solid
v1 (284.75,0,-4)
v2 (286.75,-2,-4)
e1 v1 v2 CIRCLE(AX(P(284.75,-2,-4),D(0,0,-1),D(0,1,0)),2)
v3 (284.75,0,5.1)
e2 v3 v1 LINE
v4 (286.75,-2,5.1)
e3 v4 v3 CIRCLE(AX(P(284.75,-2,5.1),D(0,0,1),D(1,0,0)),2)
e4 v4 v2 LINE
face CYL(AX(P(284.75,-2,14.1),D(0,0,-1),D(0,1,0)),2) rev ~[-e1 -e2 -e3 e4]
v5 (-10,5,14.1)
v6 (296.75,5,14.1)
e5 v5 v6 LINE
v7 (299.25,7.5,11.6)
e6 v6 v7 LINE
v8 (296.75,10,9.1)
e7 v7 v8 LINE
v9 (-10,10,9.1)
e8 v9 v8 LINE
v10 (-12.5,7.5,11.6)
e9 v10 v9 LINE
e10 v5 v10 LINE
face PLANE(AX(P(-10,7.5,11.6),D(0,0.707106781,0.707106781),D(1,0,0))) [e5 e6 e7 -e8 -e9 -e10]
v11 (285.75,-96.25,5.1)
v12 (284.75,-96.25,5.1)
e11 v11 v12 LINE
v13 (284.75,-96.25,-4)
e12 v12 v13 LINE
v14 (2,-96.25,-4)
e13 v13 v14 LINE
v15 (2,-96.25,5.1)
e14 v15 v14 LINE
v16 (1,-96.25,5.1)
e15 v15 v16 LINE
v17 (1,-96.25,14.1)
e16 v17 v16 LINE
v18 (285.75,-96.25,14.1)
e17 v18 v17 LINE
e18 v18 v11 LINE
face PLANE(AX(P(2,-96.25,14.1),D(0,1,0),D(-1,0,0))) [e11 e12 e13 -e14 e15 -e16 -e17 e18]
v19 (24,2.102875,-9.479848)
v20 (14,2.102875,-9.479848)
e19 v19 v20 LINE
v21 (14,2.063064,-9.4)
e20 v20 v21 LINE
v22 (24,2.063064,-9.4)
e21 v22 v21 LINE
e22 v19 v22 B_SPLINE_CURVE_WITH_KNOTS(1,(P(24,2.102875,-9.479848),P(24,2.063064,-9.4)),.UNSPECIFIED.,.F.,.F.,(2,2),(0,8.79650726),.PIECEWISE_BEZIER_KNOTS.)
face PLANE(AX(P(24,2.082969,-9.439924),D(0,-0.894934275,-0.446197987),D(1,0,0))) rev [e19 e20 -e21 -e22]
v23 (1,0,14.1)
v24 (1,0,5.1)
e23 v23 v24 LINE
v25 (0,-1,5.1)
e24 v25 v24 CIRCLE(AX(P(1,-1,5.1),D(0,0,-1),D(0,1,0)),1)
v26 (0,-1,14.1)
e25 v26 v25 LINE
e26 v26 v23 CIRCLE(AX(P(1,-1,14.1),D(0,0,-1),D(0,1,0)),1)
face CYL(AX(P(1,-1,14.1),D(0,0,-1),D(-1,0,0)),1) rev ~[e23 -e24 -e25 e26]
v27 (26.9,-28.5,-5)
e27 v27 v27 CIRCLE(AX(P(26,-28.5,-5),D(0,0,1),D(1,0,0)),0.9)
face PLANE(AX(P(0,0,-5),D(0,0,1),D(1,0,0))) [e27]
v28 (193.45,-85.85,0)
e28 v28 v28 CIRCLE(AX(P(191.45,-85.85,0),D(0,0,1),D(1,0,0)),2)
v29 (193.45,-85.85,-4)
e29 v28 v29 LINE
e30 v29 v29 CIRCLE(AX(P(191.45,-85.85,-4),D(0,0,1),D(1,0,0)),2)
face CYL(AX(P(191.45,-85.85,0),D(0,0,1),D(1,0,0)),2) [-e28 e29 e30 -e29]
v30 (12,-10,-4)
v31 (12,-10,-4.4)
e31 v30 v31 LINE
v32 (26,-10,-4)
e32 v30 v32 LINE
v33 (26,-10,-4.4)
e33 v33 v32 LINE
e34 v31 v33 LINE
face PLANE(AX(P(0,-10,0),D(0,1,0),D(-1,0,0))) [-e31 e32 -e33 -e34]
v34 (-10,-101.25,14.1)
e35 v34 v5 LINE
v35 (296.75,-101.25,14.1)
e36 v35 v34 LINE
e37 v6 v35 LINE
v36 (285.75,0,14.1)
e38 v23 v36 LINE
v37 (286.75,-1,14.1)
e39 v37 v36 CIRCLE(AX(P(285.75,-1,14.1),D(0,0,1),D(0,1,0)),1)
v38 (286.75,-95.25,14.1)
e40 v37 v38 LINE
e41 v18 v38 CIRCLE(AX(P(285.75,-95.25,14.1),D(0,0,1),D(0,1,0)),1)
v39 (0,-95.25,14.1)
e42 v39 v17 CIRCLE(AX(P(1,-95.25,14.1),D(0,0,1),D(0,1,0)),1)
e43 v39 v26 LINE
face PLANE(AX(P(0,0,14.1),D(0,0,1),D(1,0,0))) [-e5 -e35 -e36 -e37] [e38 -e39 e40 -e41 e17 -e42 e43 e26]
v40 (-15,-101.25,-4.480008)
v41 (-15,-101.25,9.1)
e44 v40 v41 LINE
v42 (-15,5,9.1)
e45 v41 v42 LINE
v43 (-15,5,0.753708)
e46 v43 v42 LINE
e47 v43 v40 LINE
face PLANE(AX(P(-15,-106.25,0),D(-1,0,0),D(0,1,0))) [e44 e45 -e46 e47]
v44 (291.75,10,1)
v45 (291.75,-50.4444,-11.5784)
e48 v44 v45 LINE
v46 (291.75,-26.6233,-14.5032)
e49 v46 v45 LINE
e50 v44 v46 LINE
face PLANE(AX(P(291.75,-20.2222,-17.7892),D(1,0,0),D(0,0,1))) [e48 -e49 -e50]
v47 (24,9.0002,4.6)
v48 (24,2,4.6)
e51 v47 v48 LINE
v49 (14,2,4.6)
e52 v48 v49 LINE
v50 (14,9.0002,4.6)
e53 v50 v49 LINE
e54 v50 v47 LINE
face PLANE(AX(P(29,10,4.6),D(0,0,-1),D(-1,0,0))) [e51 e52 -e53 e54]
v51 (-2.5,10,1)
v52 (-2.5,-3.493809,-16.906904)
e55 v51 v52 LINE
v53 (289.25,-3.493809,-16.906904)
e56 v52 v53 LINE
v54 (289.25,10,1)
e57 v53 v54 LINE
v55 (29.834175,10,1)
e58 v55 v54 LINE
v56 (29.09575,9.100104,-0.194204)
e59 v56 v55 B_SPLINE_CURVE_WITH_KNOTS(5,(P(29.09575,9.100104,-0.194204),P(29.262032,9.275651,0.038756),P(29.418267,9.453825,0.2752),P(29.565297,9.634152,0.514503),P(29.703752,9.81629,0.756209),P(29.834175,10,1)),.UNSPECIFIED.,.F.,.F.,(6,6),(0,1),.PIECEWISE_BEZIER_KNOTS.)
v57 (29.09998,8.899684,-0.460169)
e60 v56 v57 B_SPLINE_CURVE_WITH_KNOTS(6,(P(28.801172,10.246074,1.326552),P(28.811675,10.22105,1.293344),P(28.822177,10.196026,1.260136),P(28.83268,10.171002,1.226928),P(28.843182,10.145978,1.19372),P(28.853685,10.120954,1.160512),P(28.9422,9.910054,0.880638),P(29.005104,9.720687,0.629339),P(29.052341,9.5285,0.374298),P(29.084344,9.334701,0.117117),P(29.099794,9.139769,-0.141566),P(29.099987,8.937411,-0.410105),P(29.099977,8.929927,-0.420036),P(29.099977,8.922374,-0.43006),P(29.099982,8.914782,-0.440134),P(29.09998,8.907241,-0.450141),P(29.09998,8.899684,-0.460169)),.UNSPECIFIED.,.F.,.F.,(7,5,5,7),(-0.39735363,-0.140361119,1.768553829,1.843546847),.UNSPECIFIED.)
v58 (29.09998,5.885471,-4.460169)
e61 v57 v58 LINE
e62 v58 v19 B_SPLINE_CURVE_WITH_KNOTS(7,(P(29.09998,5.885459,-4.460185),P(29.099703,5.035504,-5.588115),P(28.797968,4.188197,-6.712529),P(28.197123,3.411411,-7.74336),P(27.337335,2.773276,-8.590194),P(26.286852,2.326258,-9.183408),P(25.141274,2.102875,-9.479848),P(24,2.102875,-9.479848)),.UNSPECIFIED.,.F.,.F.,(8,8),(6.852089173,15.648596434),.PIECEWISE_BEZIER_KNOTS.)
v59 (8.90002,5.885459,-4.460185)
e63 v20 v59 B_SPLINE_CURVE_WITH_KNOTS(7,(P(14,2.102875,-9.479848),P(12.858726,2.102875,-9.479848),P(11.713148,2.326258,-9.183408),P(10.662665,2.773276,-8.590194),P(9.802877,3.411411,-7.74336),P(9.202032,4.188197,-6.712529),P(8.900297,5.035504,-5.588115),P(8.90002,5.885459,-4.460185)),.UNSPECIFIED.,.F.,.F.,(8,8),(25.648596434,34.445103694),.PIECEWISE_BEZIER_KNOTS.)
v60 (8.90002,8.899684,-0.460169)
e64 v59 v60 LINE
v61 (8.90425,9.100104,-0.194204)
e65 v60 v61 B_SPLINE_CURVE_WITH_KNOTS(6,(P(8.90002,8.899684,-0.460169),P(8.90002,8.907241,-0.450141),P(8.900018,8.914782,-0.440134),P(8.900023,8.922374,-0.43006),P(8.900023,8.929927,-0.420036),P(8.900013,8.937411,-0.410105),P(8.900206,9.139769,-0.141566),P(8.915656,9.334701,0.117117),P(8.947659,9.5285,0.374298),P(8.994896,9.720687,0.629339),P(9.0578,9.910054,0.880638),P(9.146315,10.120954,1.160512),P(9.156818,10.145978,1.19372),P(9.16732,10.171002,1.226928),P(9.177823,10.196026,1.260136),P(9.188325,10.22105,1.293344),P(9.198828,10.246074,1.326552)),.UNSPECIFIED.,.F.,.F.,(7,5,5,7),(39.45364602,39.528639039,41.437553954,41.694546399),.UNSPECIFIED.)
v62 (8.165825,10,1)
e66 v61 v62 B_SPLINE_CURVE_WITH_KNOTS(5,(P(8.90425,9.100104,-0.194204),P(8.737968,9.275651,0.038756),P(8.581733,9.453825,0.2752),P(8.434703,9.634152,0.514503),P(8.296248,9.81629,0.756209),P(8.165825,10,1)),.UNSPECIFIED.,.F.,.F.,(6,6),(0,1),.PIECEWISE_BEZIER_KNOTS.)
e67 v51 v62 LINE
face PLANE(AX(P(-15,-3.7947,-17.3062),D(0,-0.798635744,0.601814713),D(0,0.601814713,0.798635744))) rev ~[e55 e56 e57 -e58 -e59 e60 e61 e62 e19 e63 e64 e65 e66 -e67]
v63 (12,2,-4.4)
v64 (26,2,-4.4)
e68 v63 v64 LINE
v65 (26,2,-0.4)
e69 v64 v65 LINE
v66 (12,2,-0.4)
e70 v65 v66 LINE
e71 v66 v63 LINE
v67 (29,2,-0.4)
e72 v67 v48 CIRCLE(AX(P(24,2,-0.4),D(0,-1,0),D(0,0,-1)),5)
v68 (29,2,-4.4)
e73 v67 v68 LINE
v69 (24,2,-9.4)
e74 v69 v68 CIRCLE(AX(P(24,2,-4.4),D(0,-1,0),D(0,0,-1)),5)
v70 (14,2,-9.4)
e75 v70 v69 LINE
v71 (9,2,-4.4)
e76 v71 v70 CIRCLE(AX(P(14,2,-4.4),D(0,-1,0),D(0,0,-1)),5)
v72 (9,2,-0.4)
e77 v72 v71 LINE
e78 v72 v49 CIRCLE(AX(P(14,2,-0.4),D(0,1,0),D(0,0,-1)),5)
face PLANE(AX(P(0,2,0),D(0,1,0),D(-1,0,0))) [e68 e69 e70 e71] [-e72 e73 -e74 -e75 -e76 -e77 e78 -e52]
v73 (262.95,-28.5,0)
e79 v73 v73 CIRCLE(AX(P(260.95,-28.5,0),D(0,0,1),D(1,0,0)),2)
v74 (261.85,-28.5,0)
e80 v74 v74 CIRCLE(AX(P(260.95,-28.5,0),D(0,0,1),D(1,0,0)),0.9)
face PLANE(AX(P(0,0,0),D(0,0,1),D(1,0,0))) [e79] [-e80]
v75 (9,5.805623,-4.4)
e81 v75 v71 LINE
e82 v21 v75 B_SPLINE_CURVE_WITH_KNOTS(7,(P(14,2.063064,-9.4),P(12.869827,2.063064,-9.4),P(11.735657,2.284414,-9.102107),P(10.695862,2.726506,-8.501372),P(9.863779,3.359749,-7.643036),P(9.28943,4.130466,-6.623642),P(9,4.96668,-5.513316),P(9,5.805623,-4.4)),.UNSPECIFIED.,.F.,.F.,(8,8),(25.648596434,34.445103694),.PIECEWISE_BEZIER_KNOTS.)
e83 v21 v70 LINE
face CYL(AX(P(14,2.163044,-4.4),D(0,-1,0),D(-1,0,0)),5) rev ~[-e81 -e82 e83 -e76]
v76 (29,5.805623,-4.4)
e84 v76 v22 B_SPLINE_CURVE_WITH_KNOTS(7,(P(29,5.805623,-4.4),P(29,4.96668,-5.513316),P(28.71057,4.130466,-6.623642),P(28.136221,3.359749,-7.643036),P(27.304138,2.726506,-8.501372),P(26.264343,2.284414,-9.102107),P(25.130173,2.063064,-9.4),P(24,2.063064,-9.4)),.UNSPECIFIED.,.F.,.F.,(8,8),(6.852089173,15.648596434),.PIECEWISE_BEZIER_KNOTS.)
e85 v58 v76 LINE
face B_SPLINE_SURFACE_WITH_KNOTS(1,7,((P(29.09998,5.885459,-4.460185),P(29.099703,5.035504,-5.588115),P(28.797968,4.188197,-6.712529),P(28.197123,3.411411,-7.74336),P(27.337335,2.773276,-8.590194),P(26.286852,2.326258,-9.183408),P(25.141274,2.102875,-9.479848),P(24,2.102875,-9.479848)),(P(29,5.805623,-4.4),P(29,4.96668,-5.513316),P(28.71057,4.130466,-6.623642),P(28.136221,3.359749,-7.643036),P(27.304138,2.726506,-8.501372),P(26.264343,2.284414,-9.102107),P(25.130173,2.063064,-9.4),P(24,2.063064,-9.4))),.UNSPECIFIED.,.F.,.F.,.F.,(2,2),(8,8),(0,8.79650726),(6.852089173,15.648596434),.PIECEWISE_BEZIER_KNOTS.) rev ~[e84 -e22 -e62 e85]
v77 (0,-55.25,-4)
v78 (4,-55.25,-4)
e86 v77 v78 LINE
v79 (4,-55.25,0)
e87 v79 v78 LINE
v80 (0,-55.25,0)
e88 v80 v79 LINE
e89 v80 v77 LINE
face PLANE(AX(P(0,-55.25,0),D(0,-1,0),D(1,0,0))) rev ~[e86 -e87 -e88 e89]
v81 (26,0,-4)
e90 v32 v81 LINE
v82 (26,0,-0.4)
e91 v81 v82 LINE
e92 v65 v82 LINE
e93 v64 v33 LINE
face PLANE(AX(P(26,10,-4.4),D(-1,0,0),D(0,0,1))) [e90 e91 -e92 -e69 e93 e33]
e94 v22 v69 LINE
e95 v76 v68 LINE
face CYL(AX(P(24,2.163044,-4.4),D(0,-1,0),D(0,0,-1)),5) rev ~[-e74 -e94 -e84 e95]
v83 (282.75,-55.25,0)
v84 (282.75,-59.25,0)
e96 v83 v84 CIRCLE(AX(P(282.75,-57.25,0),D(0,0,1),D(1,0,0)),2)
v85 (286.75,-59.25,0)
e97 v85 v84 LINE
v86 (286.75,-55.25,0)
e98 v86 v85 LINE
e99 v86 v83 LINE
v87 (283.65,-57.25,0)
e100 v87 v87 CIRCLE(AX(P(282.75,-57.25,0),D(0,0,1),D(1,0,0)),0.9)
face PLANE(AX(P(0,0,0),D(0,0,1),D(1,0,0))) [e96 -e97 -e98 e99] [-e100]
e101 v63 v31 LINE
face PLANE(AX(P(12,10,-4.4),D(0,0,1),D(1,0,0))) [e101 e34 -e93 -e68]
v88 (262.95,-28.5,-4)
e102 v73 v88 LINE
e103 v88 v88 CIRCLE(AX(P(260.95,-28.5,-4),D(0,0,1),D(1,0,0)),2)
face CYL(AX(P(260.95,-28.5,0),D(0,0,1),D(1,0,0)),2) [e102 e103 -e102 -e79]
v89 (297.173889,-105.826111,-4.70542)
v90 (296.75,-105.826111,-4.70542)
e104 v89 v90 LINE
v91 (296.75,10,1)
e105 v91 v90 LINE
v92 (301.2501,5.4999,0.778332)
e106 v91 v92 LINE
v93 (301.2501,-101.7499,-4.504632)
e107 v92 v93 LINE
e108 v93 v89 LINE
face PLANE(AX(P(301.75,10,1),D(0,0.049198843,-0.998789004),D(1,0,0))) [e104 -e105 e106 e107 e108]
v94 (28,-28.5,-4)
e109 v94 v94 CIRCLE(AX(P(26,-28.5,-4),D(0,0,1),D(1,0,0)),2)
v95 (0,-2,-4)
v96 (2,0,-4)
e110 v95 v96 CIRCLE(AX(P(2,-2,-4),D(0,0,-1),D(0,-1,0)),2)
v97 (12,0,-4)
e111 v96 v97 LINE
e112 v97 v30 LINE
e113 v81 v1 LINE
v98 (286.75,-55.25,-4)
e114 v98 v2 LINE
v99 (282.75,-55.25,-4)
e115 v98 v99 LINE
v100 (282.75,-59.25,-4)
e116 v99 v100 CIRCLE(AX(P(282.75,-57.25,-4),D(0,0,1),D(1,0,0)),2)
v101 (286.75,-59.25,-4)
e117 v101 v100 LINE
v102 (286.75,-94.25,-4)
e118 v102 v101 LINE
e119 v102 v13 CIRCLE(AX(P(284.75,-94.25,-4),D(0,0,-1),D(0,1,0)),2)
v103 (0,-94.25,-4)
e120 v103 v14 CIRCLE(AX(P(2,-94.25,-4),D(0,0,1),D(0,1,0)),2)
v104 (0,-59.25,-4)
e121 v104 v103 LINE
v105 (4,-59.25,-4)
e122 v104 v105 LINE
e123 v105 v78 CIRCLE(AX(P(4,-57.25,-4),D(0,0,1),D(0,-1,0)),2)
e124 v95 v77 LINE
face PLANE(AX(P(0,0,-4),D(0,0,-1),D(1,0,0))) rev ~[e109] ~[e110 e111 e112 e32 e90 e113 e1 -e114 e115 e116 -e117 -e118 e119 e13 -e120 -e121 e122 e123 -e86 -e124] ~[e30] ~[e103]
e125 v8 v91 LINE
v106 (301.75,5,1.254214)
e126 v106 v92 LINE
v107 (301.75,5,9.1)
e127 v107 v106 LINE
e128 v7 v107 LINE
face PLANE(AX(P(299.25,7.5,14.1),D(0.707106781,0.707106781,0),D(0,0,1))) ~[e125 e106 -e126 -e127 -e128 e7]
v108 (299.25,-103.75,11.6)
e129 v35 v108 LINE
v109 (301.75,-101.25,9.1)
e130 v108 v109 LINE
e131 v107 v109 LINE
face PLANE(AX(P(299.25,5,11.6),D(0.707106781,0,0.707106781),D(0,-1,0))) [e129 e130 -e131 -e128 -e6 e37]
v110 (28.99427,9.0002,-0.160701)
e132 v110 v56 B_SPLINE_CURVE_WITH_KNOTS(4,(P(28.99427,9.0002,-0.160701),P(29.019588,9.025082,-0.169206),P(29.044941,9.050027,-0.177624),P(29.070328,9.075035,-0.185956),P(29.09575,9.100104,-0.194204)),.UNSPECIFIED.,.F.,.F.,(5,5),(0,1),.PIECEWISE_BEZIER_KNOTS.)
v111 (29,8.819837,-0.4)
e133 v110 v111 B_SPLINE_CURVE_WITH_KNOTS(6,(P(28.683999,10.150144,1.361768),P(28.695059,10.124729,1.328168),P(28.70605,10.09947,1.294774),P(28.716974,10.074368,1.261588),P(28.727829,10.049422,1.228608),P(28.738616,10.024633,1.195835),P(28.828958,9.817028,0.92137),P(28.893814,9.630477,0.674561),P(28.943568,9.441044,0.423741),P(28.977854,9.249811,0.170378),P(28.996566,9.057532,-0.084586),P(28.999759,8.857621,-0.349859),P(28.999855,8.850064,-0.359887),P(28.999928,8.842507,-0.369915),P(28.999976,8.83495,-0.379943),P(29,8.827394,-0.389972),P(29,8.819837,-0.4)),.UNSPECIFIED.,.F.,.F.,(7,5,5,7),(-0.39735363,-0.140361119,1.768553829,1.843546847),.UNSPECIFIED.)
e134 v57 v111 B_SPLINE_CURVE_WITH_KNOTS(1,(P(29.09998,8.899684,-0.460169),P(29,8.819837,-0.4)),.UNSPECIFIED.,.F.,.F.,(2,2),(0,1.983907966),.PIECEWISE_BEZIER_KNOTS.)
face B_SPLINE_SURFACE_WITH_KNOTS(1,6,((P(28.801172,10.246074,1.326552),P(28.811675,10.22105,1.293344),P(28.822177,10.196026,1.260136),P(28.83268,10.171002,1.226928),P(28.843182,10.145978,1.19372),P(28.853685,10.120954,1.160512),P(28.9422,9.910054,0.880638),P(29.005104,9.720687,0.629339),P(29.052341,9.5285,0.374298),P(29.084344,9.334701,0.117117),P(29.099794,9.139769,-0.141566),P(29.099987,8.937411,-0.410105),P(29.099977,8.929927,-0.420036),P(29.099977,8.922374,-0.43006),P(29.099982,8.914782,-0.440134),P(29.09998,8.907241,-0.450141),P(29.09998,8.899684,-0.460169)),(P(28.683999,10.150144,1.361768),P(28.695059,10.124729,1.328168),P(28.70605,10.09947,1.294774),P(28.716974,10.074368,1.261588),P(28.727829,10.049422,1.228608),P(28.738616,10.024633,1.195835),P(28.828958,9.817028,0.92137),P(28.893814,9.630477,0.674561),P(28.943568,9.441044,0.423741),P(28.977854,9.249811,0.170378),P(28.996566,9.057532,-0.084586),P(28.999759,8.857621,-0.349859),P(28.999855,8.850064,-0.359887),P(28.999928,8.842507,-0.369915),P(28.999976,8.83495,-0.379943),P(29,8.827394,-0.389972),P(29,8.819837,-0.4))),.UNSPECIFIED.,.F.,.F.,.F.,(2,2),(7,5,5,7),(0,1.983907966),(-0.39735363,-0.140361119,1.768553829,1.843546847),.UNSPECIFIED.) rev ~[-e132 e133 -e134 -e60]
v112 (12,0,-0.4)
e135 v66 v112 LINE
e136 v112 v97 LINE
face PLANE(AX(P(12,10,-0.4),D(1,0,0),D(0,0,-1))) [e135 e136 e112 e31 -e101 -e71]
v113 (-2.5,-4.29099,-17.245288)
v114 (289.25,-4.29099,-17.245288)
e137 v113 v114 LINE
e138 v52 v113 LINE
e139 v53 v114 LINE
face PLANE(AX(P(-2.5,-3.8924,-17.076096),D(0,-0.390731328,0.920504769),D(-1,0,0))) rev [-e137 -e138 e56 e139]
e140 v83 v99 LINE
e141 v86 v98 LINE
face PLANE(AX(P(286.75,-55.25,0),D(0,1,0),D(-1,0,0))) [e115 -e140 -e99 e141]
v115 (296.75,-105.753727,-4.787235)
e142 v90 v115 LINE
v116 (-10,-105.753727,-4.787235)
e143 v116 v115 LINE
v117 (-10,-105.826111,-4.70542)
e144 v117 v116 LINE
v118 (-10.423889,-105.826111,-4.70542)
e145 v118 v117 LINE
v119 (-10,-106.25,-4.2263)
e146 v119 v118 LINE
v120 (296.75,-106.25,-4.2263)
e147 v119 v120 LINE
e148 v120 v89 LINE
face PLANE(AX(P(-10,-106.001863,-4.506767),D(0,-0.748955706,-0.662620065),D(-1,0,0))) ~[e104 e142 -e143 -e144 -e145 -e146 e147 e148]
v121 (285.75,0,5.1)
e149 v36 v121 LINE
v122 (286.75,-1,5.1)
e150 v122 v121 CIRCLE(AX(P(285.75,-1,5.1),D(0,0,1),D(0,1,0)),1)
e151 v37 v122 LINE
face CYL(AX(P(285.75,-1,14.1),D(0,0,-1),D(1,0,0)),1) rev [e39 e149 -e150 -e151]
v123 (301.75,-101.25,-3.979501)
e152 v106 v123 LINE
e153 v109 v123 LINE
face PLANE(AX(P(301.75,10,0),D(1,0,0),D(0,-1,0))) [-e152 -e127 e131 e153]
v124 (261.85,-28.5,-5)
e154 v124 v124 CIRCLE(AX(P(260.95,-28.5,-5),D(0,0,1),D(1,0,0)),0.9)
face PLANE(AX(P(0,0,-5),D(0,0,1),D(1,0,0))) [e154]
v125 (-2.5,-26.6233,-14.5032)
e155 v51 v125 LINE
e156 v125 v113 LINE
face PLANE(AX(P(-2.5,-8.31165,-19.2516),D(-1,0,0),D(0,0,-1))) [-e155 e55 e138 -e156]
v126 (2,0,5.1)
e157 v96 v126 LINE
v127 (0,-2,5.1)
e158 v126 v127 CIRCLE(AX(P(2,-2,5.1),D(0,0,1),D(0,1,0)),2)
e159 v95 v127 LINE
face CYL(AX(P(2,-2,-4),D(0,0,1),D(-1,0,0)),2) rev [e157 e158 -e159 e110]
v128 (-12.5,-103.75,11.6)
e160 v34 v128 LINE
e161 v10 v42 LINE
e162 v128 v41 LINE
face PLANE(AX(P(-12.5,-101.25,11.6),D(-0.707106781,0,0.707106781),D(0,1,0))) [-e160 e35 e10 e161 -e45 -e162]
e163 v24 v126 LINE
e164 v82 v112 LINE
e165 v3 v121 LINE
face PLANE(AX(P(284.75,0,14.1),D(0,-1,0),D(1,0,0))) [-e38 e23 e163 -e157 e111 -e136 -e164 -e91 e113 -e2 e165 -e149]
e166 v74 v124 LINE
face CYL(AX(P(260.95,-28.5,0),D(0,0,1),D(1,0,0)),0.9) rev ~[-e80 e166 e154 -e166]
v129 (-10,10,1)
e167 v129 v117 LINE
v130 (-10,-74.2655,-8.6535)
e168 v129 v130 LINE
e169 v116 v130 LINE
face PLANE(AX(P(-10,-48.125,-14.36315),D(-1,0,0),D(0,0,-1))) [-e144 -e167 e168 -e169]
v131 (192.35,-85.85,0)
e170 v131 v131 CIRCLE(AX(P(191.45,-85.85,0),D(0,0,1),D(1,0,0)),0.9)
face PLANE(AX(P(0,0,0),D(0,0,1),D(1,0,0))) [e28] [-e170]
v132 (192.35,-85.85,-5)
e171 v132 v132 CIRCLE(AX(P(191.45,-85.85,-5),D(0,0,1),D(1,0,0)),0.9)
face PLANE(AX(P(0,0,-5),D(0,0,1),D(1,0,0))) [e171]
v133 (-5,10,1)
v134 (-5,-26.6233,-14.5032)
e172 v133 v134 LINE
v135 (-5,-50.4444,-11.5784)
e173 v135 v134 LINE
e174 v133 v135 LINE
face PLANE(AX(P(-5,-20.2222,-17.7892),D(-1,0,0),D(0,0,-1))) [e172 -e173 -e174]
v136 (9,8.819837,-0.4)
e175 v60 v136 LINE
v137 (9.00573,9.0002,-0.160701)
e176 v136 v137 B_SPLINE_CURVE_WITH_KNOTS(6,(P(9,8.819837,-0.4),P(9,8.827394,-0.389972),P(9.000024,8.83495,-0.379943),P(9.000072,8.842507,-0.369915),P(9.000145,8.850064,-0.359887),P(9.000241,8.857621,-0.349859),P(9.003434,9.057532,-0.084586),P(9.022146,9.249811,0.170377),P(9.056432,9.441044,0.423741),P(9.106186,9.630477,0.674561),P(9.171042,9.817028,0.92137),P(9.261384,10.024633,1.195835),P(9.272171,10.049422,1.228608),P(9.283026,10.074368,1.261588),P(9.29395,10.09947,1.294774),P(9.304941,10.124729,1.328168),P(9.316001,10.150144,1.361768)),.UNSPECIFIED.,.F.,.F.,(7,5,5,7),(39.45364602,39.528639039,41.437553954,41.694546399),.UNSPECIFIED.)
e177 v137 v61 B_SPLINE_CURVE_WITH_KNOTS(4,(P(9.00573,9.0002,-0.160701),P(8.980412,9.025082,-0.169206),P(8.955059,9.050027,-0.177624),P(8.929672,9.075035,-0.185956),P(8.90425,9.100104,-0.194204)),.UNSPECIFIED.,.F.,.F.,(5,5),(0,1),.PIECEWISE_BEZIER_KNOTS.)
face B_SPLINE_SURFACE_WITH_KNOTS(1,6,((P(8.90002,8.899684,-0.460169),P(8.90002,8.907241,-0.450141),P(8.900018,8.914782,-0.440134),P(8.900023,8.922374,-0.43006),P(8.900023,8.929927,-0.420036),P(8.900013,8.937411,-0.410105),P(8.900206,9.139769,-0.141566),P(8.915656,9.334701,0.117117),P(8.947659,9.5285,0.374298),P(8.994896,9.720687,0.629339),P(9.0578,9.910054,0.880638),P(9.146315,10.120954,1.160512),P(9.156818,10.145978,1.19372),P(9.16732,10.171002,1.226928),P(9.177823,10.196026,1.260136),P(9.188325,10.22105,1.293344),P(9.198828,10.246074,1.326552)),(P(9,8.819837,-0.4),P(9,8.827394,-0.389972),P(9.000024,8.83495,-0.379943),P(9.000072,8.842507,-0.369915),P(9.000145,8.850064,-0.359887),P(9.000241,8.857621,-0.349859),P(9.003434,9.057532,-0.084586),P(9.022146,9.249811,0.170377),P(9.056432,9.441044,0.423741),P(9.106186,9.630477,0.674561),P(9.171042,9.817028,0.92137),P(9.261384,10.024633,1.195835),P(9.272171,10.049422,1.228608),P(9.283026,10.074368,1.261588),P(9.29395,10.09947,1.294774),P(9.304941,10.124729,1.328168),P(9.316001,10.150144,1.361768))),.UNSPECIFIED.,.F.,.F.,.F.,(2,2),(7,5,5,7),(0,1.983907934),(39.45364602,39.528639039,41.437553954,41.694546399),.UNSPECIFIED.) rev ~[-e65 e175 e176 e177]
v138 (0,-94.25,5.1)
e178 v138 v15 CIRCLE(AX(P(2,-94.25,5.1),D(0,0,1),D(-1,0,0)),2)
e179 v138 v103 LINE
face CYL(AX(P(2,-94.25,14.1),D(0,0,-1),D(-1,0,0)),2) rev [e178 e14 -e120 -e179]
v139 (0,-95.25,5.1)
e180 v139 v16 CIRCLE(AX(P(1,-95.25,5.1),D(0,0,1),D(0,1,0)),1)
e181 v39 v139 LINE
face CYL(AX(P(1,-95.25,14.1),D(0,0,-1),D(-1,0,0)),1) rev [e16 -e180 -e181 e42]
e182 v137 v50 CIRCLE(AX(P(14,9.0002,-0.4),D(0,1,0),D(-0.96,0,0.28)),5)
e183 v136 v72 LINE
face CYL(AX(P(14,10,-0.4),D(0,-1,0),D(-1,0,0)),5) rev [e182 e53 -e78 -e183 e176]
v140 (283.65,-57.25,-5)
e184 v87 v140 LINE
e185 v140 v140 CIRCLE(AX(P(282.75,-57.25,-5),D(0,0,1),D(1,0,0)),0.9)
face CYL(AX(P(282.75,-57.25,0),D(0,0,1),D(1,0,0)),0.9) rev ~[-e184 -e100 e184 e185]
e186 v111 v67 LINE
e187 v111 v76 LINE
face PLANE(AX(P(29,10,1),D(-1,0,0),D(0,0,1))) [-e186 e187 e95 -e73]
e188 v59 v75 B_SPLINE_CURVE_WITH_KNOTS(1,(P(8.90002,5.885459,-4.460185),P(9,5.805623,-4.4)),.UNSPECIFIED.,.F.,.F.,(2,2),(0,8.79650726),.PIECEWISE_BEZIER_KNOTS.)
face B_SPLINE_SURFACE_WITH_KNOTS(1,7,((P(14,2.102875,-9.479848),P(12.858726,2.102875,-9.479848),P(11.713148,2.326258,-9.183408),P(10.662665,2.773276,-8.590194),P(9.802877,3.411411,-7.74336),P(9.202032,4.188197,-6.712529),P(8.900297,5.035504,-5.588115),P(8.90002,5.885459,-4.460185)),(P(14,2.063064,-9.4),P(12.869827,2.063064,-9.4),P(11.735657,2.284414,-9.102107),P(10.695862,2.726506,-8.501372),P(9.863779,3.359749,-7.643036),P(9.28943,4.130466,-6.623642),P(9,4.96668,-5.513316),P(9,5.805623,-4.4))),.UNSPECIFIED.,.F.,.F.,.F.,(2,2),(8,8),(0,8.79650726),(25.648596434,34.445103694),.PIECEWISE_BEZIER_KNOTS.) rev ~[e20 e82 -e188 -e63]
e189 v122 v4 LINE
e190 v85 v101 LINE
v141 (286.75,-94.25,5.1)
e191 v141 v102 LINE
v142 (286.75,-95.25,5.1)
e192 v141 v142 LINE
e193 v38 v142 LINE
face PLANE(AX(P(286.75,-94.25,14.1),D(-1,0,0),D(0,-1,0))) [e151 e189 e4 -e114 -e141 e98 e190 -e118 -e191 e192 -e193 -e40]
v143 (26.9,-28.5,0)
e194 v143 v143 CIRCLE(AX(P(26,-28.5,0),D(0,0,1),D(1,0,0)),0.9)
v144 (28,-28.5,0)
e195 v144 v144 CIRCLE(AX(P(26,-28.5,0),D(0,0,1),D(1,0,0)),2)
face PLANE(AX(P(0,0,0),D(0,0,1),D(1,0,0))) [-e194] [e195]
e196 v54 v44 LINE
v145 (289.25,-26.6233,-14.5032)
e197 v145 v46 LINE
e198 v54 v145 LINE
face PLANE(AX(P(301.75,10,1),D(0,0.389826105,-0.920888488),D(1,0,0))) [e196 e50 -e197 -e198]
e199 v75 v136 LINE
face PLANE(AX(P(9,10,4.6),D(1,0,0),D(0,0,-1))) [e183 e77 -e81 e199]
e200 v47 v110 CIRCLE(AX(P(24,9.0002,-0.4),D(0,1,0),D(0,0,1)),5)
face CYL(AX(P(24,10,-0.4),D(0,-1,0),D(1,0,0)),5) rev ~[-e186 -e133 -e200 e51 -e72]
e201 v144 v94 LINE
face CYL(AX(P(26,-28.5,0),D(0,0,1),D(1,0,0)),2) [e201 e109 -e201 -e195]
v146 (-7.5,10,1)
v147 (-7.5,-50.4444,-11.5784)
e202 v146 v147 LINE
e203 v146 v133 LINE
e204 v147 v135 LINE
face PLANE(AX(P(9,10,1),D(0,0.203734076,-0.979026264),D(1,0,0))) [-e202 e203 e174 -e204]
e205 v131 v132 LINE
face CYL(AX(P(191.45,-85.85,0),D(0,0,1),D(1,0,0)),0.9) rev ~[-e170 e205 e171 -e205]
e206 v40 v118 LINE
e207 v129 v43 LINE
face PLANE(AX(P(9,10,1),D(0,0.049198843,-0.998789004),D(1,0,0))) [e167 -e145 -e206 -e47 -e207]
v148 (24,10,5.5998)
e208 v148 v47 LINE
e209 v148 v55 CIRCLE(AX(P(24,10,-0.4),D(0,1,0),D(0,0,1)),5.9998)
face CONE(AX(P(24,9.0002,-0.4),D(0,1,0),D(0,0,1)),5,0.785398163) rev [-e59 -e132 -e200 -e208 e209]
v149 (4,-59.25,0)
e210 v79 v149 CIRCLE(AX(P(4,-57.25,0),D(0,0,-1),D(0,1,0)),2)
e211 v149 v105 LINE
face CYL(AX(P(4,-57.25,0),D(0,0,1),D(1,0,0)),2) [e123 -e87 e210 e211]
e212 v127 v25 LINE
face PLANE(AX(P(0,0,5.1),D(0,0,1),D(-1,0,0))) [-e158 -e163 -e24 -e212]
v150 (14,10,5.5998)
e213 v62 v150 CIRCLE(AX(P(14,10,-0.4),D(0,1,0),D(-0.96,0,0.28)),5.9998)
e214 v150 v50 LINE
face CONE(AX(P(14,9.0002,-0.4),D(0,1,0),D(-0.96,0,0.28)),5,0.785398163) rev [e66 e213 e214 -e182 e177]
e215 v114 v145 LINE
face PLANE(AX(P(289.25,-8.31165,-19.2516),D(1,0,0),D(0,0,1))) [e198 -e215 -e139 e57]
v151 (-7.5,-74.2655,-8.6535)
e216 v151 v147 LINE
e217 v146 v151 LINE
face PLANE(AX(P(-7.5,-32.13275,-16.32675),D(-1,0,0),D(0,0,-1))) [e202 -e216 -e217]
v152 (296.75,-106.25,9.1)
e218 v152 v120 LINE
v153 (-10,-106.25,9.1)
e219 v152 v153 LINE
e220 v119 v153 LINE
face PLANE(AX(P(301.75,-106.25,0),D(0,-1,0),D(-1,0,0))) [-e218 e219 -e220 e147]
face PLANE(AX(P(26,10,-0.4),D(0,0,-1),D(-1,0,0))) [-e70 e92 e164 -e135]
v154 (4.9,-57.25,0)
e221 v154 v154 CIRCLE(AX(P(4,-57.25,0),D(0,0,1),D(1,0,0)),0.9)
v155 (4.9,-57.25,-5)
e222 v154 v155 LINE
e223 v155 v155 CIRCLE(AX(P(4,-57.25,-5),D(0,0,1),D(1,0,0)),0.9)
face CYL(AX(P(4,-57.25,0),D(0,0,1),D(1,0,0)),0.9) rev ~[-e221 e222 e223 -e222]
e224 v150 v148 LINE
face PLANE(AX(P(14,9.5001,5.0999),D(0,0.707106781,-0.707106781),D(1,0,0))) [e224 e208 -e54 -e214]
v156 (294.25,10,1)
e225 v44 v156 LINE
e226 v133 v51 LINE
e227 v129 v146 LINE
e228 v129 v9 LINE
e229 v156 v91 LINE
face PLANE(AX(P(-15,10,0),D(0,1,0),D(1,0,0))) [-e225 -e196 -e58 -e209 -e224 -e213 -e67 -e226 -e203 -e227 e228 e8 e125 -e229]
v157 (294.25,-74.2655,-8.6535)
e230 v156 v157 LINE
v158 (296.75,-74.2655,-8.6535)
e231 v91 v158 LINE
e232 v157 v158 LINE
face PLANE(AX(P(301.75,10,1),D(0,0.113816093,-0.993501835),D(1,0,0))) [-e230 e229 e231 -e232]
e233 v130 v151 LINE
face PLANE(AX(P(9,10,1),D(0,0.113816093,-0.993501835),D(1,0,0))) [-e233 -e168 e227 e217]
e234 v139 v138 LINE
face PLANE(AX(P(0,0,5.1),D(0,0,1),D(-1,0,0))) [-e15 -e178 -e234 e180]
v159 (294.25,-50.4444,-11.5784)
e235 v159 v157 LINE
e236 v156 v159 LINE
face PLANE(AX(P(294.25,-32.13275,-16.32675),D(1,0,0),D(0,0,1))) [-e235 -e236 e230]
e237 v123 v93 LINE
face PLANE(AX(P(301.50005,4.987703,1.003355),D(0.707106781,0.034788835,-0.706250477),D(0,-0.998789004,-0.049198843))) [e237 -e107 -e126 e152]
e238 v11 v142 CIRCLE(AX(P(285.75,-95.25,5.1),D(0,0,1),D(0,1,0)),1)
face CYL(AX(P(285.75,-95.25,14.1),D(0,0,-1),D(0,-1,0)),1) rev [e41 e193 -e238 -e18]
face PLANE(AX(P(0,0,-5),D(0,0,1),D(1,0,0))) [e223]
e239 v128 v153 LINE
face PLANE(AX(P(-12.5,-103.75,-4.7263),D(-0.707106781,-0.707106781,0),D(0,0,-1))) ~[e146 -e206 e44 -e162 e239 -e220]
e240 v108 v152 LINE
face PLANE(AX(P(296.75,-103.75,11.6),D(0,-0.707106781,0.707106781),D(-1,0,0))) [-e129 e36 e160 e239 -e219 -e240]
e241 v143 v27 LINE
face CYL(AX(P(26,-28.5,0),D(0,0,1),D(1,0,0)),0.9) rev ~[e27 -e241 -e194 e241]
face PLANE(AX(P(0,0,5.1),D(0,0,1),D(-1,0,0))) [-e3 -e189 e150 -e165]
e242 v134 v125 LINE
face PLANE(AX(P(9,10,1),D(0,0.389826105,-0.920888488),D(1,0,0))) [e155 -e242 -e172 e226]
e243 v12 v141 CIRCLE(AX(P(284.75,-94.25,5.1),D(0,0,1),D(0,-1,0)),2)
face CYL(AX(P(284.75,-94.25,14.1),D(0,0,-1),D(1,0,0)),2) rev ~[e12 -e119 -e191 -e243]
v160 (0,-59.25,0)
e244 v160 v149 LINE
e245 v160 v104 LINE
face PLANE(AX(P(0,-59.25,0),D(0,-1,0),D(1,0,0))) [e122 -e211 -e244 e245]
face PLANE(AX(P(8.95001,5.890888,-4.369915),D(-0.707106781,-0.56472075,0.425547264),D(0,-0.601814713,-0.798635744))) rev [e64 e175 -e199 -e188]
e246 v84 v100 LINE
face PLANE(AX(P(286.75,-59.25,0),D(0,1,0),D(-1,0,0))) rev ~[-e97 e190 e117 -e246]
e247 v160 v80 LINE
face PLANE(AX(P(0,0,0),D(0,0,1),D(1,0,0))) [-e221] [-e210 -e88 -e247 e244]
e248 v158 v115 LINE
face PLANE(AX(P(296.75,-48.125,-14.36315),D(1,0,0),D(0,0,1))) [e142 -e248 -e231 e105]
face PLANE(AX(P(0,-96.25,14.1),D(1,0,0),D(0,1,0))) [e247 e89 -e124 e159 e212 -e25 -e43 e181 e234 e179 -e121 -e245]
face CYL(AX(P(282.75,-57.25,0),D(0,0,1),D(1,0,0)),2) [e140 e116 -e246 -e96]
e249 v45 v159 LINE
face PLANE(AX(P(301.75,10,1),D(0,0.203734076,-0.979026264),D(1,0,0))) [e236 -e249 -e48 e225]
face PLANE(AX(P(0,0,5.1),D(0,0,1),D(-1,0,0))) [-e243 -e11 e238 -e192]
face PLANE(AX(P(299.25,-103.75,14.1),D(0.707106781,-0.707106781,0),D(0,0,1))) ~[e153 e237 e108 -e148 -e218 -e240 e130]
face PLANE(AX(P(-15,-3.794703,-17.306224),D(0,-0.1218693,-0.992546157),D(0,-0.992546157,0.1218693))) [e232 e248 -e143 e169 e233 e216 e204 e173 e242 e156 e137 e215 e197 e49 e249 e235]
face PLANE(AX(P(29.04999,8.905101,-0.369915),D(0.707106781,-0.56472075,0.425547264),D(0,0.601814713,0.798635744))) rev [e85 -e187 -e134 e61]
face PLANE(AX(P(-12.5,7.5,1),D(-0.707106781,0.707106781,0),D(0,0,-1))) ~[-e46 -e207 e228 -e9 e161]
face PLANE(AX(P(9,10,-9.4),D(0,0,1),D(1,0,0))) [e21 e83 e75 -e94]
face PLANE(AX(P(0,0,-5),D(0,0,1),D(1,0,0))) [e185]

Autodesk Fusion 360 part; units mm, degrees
sketch "スケッチ1" plane through (0, 0, 0) normal (0, 0, 1) x (1, 0, 0)
  line L0 (0, 0) -> (286.75, 0)
  line L1 (286.75, 0) -> (286.75, -96.25)
  line L2 (286.75, -96.25) -> (0, -96.25)
  line L3 (0, -96.25) -> (0, 0)
  line L4 (-15, 10) -> (301.75, 10)
  line L5 (301.75, 10) -> (301.75, -106.25)
  line L6 (301.75, -106.25) -> (-15, -106.25)
  line L7 (-15, -106.25) -> (-15, 10)
  circle A0 centre (260.95, -28.5) radius 2
  circle A1 centre (282.75, -57.25) radius 2
  circle A2 centre (191.45, -85.85) radius 2
  circle A3 centre (4, -57.25) radius 2
  circle A4 centre (26, -28.5) radius 2
  line L8 (286.75, -59.25) -> (282.75, -59.25)
  line L9 (286.75, -55.25) -> (282.75, -55.25)
  line L10 (0, -59.25) -> (4, -59.25)
  line L11 (0, -55.25) -> (4, -55.25)
  circle A5 centre (129, -47.75) radius 2
  circle A6 centre (4, -57.25) radius 0.9
  circle A7 centre (26, -28.5) radius 0.9
  circle A8 centre (191.45, -85.85) radius 0.9
  circle A9 centre (129, -47.75) radius 0.9
  circle A10 centre (282.75, -57.25) radius 0.9
  circle A11 centre (260.95, -28.5) radius 0.9
  dimension "d7" = 286.75
  dimension "d8" = 96.25
  dimension "d9" = 15
  dimension "d10" = 10
  dimension "d11" = 10
  dimension "d12" = 15
  dimension "d13" = 4
  dimension "d14" = 28.5
  dimension "d15" = 25.8
  dimension "d16" = 4
  dimension "d17" = 4
  dimension "d18" = 4
  dimension "d19" = 4
  dimension "d20" = 28.5
  dimension "d21" = 26
  dimension "d22" = 39
  dimension "d23" = 4
  dimension "d24" = 4
  dimension "d25" = 39
  dimension "d26" = 10.4
  dimension "d27" = 95.3
  dimension "d28" = 4
  dimension "d29" = 129
  dimension "d30" = 48.5
  dimension "d54" = 1.8
  dimension "d55" = 1.8
  dimension "d56" = 1.8
  dimension "d57" = 1.8
  dimension "d58" = 1.8
  dimension "d59" = 1.8
extrude "押し出し1" add sketch "スケッチ1" along normal blind 14.1 contours L4 L5 L6 L7
extrude "押し出し2" add sketch "スケッチ1" against normal blind 4 contours L4 L5 L6 L7
sketch "スケッチ2" plane through (0, 0, -4) normal (0, 0, -1) x (1, 0, 0)
  line L0 (0, 96.25) -> (286.75, 96.25)
  line L1 (286.75, 96.25) -> (286.75, 0)
  line L2 (286.75, 0) -> (0, 0)
  line L3 (0, 0) -> (0, 96.25)
  line L4 (301.75, 106.25) -> (-15, 106.25)
  line L5 (-15, 106.25) -> (-15, -10)
  line L6 (-15, -10) -> (301.75, -10)
  line L7 (301.75, -10) -> (301.75, 106.25)
extrude "押し出し3" add sketch "スケッチ2" along normal blind 15 contours L0 L1 L2 L3 | L4 L5 L6 L7
sketch "スケッチ3" plane through (-15, 0, 0) normal (-1, 0, 0) x (0, -1, 0)
  line L0 (106.25, -19) -> (106.25, 14.1)
  line L1 (106.25, 14.1) -> (-10, 14.1)
  line L2 (-10, 14.1) -> (-10, -19)
  line L3 (-10, -19) -> (106.25, -19)
  line L4 (-10, -19) -> (106.25, -4.7263)
  line L5 (3.7947, -17.3062) -> (-10, 1)
  dimension "d37" = 7
  dimension "d77" = 120
  dimension "d78" = 20
extrude "押し出し4" cut sketch "スケッチ3" against normal blind 320 contours L0 L3 L4 | L2 L4 L5
extrude "押し出し5" add sketch "スケッチ1" against normal blind 4 contours L3 A3 L10 L11 | L1 A1 L8 L9 | A3 | A1 | A0 | A2 | A4 | A6 | A7 | A8 | A10 | A11
sketch "スケッチ4" plane through (0, 10, 0) normal (0, 1, 0) x (-1, 0, 0)
  line L0 (15, 1) -> (15, 14.1)
  line L1 (15, 14.1) -> (-301.75, 14.1)
  line L2 (-301.75, 14.1) -> (-301.75, 1)
  line L3 (-29, 4.6) -> (-9, 4.6)
  line L4 (-9, 4.6) -> (-9, -9.4)
  line L5 (-9, -9.4) -> (-29, -9.4)
  line L6 (-29, -9.4) -> (-29, 4.6)
  line L7 (-26, -0.4) -> (-12, -0.4)
  line L8 (-12, -0.4) -> (-12, -4.4)
  line L9 (-12, -4.4) -> (-26, -4.4)
  line L10 (-26, -4.4) -> (-26, -0.4)
  line L11 (-301.75, 1) -> (15, 1)
  dimension "d42" = 20
  dimension "d43" = 14
  dimension "d44" = 24
  dimension "d45" = 9.5
  dimension "d46" = 14
  dimension "d47" = 4
  dimension "d48" = 27
  dimension "d49" = 14.5
extrude "押し出し6" cut sketch "スケッチ4" against normal blind 20 contours L7 L8 L9 L10
extrude "押し出し7" cut sketch "スケッチ4" against normal blind 8 contours L3 L4 L6 L11 | L4 L5 L6 L11
extrude "押し出し8" cut sketch "スケッチ1" against normal blind 5 contours A6 | A7 | A8 | A10 | A11
sketch "スケッチ6" plane through (-15, 0, 0) normal (-1, 0, 0) x (0, -1, 0)
  line L0 (3.7947, -17.3062) -> (106.25, -4.7263)
  line L1 (106.25, 14.1) -> (-10, 14.1)
  line L2 (-10, 1) -> (26.6233, -14.5032)
  line L3 (-10, 1) -> (50.4444, -11.5784)
  line L4 (-10, 1) -> (106.25, -4.7263)
  line L5 (-10, 1) -> (74.2655, -8.6535)
  line L6 (-10, 1) -> (3.7947, -17.3062)
  line L7 (106.25, -4.7263) -> (106.25, 14.1)
  line L8 (-10, 14.1) -> (-10, 1)
  point P0 (-10, 1)
  dimension "d79" = 23
  dimension "d80" = 47
  dimension "d81" = 71
  dimension "d82" = 103.2247
sketch "スケッチ7" plane through (0, 10, 0) normal (0, 1, 0) x (-1, 0, 0)
  line L0 (-29, 4.6) -> (-9, 4.6)
  line L1 (-9, 1) -> (15, 1)
  line L2 (15, 14.1) -> (-301.75, 14.1)
  line L3 (15, 1) -> (10, 1)
  line L4 (10, 1) -> (10, -24)
  line L5 (10, -24) -> (15, -24)
  line L6 (15, -24) -> (15, 1)
  line L7 (10, 1) -> (7.5, 1)
  line L8 (7.5, 1) -> (7.5, -24)
  line L9 (7.5, -24) -> (10, -24)
  line L10 (10, -24) -> (10, 1)
  line L11 (7.5, 1) -> (5, 1)
  line L12 (5, 1) -> (5, -24)
  line L13 (5, -24) -> (7.5, -24)
  line L14 (7.5, -24) -> (7.5, 1)
  line L15 (5, 1) -> (2.5, 1)
  line L16 (2.5, 1) -> (2.5, -24)
  line L17 (2.5, -24) -> (5, -24)
  line L18 (5, -24) -> (5, 1)
  line L19 (15, 1) -> (15, 14.1)
  line L20 (-301.75, 14.1) -> (-301.75, 1)
  line L21 (-9, 4.6) -> (-9, 1)
  line L22 (-301.75, 1) -> (-29, 1)
  line L23 (-29, 1) -> (-29, 4.6)
  dimension "d83" = 25
  dimension "d84" = 5
  dimension "d85" = 2.5
  dimension "d86" = 25
  dimension "d87" = 2.5
  dimension "d88" = 25
  dimension "d89" = 2.5
  dimension "d90" = 25
sweep "スイープ1" cut profiles "スケッチ7" path "スケッチ6" along L4 section 1 contours L1 L3 L4 L5 L6 L10
sweep "スイープ2" cut profiles "スケッチ7" path "スケッチ6" along L5 section 1 contours L1 L4 L7 L8 L9 L10 L14
sweep "スイープ3" cut profiles "スケッチ7" path "スケッチ6" along L3 section 1 contours L1 L8 L11 L12 L13 L14 L18
sweep "スイープ4" cut profiles "スケッチ7" path "スケッチ6" along L2 section 1 contours L1 L12 L15 L16 L17 L18
sketch "スケッチ8" plane through (301.75, 0, 0) normal (1, 0, 0) x (0, 1, 0)
  line L0 (-106.25, -4.7263) -> (-3.7947, -17.3062)
  line L1 (-3.7947, -17.3062) -> (10, 1)
  line L2 (10, 1) -> (10, 14.1)
  line L3 (10, 14.1) -> (-106.25, 14.1)
  line L4 (-106.25, 14.1) -> (-106.25, -4.7263)
  line L5 (10, 1) -> (-106.25, -4.7263)
  line L6 (10, 1) -> (-74.2655, -8.6535)
  line L7 (10, 1) -> (-50.4444, -11.5784)
  line L8 (10, 1) -> (-26.6233, -14.5032)
  dimension "d116" = 23
  dimension "d117" = 47
  dimension "d118" = 71
sketch "スケッチ9" plane through (0, 10, 0) normal (0, 1, 0) x (-1, 0, 0)
  line L0 (-9, 1) -> (2.5, 1)
  line L1 (15, 1) -> (15, 14.1)
  line L2 (15, 14.1) -> (-301.75, 14.1)
  line L3 (-301.75, 14.1) -> (-301.75, 1)
  line L4 (-301.75, 1) -> (-29, 1)
  line L5 (-29, 4.6) -> (-9, 4.6)
  line L6 (-301.75, 1) -> (-296.75, 1)
  line L7 (-296.75, 1) -> (-296.75, -24)
  line L8 (-296.75, -24) -> (-301.75, -24)
  line L9 (-301.75, -24) -> (-301.75, 1)
  line L10 (-296.75, 1) -> (-294.25, 1)
  line L11 (-294.25, 1) -> (-294.25, -24)
  line L12 (-294.25, -24) -> (-296.75, -24)
  line L13 (-296.75, -24) -> (-296.75, 1)
  line L14 (-294.25, 1) -> (-291.75, 1)
  line L15 (-291.75, 1) -> (-291.75, -24)
  line L16 (-291.75, -24) -> (-294.25, -24)
  line L17 (-294.25, -24) -> (-294.25, 1)
  line L18 (-291.75, 1) -> (-289.25, 1)
  line L19 (-289.25, 1) -> (-289.25, -24)
  line L20 (-289.25, -24) -> (-291.75, -24)
  line L21 (-291.75, -24) -> (-291.75, 1)
  line L22 (-9, 4.6) -> (-9, 1)
  line L23 (2.5, 1) -> (5, 1)
  line L24 (5, 1) -> (7.5, 1)
  line L25 (7.5, 1) -> (10, 1)
  line L26 (10, 1) -> (15, 1)
  line L27 (-29, 1) -> (-29, 4.6)
  dimension "d119" = 5
  dimension "d120" = 25
  dimension "d121" = 2.5
  dimension "d122" = 25
  dimension "d123" = 2.5
  dimension "d124" = 25
  dimension "d125" = 2.5
  dimension "d126" = 25
sweep "スイープ5" cut profiles "スケッチ9" path "スケッチ8" along L5 section 1 contours L4 L6 L7 L8 L9 L13
sweep "スイープ6" cut profiles "スケッチ9" path "スケッチ8" along L6 section 1 contours L4 L7 L10 L11 L12 L13 L17
sweep "スイープ7" cut profiles "スケッチ9" path "スケッチ8" along L7 section 1 contours L4 L11 L14 L15 L16 L17 L21
sweep "スイープ8" cut profiles "スケッチ9" path "スケッチ8" along L8 section 1 contours L4 L15 L18 L19 L20 L21
fillet "フィレット6" radius 2 4 edges at (0, 0, 5.05) (0, -96.25, 5.05) (286.75, -96.25, 5.05) (286.75, 0, 5.05)
sketch "スケッチ11" plane through (0, 0, 14.1) normal (0, 0, 1) x (-1, 0, 0)
  line L0 (-284.75, 96.25) -> (-2, 96.25)
  arc A0 (0, 94.25) -> (-2, 96.25) centre (-2, 94.25) ccw
  line L1 (0, 94.25) -> (0, 2)
  arc A1 (-2, 0) -> (0, 2) centre (-2, 2) ccw
  line L2 (-2, 0) -> (-284.75, 0)
  arc A2 (-286.75, 2) -> (-284.75, 0) centre (-284.75, 2) ccw
  line L3 (-286.75, 2) -> (-286.75, 94.25)
  arc A3 (-284.75, 96.25) -> (-286.75, 94.25) centre (-284.75, 94.25) ccw
  line L4 (15, 106.25) -> (-301.75, 106.25)
  line L5 (-301.75, 106.25) -> (-301.75, -10)
  line L6 (-301.75, -10) -> (15, -10)
  line L7 (15, -10) -> (15, 106.25)
  line L8 (0, 0) -> (-286.75, 0)
  line L9 (-286.75, 0) -> (-286.75, 96.25)
  line L10 (-286.75, 96.25) -> (0, 96.25)
  line L11 (0, 96.25) -> (0, 0)
extrude "押し出し11" cut sketch "スケッチ11" against normal blind 9 contours A3 L9 L10 | A0 L10 L11 | A2 L8 L9 | A1 L8 L11
fillet "フィレット7" radius 1 4 edges at (286.75, 0, 9.6) (286.75, -96.25, 9.6) (0, -96.25, 9.6) (0, 0, 9.6)
fillet "フィレット5" radius 5 4 edges at (9, 6, 4.6) (9, 2.0815, -9.4) (29, 2.0815, -9.4) (29, 6, 4.6)
chamfer "面取り2" distance 5 angle 45 4 edges at (301.75, -106.25, 4.6869) (301.75, 10, 7.55) (-15, 10, 7.55) (-15, -106.25, 4.6869)
chamfer "面取り3" distance 5 angle 45 4 edges at (301.75, -48.125, 14.1) (143.375, -106.25, 14.1) (143.375, 10, 14.1) (-15, -48.125, 14.1)
chamfer "面取り6" distance 0.5 angle 45 1 edges at (301.75, -48.125, -1.8631)
chamfer "面取り6" distance 0.1 angle 45 7 edges at (9, 7.4379, -2.4) (9.0503, 9.4779, 0.3071) (28.9497, 9.4779, 0.3071) (29, 7.4379, -2.4) (27.5355, 3.2666, -7.9355) (19, 2.163, -9.4) (10.4645, 3.2666, -7.9355)
chamfer "面取り6" distance 1 angle 45 3 edges at (11, 10, 3.6) (27, 10, 3.6) (19, 10, 4.6)
chamfer "面取り7" distance 0.5 angle 45 2 edges at (143.375, -3.7947, -17.3062) (143.375, -106.25, -4.7263)
equation "d7 = ( 19.05 * 15 ) * 1 mm + ( 0.5 * 2 ) * 1 mm"
equation "d8 = ( 19.05 * 5 ) * 1 mm + ( 0.5 * 2 ) * 1 mm"
equation "d14 = 28 mm + 0.5 mm"
equation "d15 = 25.3 mm + 0.5 mm"
equation "d20 = 28 mm + 0.5 mm"
equation "d21 = 25.5 mm + 0.5 mm"
equation "d22 = 38.5 mm + 0.5 mm"
equation "d23 = 3.5 mm + 0.5 mm"
equation "d24 = 3.5 mm + 0.5 mm"
equation "d25 = 38.5 mm + 0.5 mm"
equation "d26 = 9.9 mm + 0.5 mm"
equation "d27 = 94.8 mm + 0.5 mm"
equation "d29 = 128.5 mm + 0.5 mm"
equation "d30 = 48 mm + 0.5 mm"
equation "d31 = 7.5 mm + 5 mm + 1.6 mm"
equation "d33 = -2 mm - 2 mm"
equation "d44 = 9 mm + 15 mm"
equation "d48 = 12 mm + 15 mm"
equation "d80 = ( 23 * 2 ) * 1 mm + 1 mm"
equation "d81 = ( 23 * 3 ) * 1 mm + 2 mm"
equation "d117 = ( 23 * 2 ) * 1 mm + 1 mm"
equation "d118 = ( 23 * 3 ) * 1 mm + 2 mm"
